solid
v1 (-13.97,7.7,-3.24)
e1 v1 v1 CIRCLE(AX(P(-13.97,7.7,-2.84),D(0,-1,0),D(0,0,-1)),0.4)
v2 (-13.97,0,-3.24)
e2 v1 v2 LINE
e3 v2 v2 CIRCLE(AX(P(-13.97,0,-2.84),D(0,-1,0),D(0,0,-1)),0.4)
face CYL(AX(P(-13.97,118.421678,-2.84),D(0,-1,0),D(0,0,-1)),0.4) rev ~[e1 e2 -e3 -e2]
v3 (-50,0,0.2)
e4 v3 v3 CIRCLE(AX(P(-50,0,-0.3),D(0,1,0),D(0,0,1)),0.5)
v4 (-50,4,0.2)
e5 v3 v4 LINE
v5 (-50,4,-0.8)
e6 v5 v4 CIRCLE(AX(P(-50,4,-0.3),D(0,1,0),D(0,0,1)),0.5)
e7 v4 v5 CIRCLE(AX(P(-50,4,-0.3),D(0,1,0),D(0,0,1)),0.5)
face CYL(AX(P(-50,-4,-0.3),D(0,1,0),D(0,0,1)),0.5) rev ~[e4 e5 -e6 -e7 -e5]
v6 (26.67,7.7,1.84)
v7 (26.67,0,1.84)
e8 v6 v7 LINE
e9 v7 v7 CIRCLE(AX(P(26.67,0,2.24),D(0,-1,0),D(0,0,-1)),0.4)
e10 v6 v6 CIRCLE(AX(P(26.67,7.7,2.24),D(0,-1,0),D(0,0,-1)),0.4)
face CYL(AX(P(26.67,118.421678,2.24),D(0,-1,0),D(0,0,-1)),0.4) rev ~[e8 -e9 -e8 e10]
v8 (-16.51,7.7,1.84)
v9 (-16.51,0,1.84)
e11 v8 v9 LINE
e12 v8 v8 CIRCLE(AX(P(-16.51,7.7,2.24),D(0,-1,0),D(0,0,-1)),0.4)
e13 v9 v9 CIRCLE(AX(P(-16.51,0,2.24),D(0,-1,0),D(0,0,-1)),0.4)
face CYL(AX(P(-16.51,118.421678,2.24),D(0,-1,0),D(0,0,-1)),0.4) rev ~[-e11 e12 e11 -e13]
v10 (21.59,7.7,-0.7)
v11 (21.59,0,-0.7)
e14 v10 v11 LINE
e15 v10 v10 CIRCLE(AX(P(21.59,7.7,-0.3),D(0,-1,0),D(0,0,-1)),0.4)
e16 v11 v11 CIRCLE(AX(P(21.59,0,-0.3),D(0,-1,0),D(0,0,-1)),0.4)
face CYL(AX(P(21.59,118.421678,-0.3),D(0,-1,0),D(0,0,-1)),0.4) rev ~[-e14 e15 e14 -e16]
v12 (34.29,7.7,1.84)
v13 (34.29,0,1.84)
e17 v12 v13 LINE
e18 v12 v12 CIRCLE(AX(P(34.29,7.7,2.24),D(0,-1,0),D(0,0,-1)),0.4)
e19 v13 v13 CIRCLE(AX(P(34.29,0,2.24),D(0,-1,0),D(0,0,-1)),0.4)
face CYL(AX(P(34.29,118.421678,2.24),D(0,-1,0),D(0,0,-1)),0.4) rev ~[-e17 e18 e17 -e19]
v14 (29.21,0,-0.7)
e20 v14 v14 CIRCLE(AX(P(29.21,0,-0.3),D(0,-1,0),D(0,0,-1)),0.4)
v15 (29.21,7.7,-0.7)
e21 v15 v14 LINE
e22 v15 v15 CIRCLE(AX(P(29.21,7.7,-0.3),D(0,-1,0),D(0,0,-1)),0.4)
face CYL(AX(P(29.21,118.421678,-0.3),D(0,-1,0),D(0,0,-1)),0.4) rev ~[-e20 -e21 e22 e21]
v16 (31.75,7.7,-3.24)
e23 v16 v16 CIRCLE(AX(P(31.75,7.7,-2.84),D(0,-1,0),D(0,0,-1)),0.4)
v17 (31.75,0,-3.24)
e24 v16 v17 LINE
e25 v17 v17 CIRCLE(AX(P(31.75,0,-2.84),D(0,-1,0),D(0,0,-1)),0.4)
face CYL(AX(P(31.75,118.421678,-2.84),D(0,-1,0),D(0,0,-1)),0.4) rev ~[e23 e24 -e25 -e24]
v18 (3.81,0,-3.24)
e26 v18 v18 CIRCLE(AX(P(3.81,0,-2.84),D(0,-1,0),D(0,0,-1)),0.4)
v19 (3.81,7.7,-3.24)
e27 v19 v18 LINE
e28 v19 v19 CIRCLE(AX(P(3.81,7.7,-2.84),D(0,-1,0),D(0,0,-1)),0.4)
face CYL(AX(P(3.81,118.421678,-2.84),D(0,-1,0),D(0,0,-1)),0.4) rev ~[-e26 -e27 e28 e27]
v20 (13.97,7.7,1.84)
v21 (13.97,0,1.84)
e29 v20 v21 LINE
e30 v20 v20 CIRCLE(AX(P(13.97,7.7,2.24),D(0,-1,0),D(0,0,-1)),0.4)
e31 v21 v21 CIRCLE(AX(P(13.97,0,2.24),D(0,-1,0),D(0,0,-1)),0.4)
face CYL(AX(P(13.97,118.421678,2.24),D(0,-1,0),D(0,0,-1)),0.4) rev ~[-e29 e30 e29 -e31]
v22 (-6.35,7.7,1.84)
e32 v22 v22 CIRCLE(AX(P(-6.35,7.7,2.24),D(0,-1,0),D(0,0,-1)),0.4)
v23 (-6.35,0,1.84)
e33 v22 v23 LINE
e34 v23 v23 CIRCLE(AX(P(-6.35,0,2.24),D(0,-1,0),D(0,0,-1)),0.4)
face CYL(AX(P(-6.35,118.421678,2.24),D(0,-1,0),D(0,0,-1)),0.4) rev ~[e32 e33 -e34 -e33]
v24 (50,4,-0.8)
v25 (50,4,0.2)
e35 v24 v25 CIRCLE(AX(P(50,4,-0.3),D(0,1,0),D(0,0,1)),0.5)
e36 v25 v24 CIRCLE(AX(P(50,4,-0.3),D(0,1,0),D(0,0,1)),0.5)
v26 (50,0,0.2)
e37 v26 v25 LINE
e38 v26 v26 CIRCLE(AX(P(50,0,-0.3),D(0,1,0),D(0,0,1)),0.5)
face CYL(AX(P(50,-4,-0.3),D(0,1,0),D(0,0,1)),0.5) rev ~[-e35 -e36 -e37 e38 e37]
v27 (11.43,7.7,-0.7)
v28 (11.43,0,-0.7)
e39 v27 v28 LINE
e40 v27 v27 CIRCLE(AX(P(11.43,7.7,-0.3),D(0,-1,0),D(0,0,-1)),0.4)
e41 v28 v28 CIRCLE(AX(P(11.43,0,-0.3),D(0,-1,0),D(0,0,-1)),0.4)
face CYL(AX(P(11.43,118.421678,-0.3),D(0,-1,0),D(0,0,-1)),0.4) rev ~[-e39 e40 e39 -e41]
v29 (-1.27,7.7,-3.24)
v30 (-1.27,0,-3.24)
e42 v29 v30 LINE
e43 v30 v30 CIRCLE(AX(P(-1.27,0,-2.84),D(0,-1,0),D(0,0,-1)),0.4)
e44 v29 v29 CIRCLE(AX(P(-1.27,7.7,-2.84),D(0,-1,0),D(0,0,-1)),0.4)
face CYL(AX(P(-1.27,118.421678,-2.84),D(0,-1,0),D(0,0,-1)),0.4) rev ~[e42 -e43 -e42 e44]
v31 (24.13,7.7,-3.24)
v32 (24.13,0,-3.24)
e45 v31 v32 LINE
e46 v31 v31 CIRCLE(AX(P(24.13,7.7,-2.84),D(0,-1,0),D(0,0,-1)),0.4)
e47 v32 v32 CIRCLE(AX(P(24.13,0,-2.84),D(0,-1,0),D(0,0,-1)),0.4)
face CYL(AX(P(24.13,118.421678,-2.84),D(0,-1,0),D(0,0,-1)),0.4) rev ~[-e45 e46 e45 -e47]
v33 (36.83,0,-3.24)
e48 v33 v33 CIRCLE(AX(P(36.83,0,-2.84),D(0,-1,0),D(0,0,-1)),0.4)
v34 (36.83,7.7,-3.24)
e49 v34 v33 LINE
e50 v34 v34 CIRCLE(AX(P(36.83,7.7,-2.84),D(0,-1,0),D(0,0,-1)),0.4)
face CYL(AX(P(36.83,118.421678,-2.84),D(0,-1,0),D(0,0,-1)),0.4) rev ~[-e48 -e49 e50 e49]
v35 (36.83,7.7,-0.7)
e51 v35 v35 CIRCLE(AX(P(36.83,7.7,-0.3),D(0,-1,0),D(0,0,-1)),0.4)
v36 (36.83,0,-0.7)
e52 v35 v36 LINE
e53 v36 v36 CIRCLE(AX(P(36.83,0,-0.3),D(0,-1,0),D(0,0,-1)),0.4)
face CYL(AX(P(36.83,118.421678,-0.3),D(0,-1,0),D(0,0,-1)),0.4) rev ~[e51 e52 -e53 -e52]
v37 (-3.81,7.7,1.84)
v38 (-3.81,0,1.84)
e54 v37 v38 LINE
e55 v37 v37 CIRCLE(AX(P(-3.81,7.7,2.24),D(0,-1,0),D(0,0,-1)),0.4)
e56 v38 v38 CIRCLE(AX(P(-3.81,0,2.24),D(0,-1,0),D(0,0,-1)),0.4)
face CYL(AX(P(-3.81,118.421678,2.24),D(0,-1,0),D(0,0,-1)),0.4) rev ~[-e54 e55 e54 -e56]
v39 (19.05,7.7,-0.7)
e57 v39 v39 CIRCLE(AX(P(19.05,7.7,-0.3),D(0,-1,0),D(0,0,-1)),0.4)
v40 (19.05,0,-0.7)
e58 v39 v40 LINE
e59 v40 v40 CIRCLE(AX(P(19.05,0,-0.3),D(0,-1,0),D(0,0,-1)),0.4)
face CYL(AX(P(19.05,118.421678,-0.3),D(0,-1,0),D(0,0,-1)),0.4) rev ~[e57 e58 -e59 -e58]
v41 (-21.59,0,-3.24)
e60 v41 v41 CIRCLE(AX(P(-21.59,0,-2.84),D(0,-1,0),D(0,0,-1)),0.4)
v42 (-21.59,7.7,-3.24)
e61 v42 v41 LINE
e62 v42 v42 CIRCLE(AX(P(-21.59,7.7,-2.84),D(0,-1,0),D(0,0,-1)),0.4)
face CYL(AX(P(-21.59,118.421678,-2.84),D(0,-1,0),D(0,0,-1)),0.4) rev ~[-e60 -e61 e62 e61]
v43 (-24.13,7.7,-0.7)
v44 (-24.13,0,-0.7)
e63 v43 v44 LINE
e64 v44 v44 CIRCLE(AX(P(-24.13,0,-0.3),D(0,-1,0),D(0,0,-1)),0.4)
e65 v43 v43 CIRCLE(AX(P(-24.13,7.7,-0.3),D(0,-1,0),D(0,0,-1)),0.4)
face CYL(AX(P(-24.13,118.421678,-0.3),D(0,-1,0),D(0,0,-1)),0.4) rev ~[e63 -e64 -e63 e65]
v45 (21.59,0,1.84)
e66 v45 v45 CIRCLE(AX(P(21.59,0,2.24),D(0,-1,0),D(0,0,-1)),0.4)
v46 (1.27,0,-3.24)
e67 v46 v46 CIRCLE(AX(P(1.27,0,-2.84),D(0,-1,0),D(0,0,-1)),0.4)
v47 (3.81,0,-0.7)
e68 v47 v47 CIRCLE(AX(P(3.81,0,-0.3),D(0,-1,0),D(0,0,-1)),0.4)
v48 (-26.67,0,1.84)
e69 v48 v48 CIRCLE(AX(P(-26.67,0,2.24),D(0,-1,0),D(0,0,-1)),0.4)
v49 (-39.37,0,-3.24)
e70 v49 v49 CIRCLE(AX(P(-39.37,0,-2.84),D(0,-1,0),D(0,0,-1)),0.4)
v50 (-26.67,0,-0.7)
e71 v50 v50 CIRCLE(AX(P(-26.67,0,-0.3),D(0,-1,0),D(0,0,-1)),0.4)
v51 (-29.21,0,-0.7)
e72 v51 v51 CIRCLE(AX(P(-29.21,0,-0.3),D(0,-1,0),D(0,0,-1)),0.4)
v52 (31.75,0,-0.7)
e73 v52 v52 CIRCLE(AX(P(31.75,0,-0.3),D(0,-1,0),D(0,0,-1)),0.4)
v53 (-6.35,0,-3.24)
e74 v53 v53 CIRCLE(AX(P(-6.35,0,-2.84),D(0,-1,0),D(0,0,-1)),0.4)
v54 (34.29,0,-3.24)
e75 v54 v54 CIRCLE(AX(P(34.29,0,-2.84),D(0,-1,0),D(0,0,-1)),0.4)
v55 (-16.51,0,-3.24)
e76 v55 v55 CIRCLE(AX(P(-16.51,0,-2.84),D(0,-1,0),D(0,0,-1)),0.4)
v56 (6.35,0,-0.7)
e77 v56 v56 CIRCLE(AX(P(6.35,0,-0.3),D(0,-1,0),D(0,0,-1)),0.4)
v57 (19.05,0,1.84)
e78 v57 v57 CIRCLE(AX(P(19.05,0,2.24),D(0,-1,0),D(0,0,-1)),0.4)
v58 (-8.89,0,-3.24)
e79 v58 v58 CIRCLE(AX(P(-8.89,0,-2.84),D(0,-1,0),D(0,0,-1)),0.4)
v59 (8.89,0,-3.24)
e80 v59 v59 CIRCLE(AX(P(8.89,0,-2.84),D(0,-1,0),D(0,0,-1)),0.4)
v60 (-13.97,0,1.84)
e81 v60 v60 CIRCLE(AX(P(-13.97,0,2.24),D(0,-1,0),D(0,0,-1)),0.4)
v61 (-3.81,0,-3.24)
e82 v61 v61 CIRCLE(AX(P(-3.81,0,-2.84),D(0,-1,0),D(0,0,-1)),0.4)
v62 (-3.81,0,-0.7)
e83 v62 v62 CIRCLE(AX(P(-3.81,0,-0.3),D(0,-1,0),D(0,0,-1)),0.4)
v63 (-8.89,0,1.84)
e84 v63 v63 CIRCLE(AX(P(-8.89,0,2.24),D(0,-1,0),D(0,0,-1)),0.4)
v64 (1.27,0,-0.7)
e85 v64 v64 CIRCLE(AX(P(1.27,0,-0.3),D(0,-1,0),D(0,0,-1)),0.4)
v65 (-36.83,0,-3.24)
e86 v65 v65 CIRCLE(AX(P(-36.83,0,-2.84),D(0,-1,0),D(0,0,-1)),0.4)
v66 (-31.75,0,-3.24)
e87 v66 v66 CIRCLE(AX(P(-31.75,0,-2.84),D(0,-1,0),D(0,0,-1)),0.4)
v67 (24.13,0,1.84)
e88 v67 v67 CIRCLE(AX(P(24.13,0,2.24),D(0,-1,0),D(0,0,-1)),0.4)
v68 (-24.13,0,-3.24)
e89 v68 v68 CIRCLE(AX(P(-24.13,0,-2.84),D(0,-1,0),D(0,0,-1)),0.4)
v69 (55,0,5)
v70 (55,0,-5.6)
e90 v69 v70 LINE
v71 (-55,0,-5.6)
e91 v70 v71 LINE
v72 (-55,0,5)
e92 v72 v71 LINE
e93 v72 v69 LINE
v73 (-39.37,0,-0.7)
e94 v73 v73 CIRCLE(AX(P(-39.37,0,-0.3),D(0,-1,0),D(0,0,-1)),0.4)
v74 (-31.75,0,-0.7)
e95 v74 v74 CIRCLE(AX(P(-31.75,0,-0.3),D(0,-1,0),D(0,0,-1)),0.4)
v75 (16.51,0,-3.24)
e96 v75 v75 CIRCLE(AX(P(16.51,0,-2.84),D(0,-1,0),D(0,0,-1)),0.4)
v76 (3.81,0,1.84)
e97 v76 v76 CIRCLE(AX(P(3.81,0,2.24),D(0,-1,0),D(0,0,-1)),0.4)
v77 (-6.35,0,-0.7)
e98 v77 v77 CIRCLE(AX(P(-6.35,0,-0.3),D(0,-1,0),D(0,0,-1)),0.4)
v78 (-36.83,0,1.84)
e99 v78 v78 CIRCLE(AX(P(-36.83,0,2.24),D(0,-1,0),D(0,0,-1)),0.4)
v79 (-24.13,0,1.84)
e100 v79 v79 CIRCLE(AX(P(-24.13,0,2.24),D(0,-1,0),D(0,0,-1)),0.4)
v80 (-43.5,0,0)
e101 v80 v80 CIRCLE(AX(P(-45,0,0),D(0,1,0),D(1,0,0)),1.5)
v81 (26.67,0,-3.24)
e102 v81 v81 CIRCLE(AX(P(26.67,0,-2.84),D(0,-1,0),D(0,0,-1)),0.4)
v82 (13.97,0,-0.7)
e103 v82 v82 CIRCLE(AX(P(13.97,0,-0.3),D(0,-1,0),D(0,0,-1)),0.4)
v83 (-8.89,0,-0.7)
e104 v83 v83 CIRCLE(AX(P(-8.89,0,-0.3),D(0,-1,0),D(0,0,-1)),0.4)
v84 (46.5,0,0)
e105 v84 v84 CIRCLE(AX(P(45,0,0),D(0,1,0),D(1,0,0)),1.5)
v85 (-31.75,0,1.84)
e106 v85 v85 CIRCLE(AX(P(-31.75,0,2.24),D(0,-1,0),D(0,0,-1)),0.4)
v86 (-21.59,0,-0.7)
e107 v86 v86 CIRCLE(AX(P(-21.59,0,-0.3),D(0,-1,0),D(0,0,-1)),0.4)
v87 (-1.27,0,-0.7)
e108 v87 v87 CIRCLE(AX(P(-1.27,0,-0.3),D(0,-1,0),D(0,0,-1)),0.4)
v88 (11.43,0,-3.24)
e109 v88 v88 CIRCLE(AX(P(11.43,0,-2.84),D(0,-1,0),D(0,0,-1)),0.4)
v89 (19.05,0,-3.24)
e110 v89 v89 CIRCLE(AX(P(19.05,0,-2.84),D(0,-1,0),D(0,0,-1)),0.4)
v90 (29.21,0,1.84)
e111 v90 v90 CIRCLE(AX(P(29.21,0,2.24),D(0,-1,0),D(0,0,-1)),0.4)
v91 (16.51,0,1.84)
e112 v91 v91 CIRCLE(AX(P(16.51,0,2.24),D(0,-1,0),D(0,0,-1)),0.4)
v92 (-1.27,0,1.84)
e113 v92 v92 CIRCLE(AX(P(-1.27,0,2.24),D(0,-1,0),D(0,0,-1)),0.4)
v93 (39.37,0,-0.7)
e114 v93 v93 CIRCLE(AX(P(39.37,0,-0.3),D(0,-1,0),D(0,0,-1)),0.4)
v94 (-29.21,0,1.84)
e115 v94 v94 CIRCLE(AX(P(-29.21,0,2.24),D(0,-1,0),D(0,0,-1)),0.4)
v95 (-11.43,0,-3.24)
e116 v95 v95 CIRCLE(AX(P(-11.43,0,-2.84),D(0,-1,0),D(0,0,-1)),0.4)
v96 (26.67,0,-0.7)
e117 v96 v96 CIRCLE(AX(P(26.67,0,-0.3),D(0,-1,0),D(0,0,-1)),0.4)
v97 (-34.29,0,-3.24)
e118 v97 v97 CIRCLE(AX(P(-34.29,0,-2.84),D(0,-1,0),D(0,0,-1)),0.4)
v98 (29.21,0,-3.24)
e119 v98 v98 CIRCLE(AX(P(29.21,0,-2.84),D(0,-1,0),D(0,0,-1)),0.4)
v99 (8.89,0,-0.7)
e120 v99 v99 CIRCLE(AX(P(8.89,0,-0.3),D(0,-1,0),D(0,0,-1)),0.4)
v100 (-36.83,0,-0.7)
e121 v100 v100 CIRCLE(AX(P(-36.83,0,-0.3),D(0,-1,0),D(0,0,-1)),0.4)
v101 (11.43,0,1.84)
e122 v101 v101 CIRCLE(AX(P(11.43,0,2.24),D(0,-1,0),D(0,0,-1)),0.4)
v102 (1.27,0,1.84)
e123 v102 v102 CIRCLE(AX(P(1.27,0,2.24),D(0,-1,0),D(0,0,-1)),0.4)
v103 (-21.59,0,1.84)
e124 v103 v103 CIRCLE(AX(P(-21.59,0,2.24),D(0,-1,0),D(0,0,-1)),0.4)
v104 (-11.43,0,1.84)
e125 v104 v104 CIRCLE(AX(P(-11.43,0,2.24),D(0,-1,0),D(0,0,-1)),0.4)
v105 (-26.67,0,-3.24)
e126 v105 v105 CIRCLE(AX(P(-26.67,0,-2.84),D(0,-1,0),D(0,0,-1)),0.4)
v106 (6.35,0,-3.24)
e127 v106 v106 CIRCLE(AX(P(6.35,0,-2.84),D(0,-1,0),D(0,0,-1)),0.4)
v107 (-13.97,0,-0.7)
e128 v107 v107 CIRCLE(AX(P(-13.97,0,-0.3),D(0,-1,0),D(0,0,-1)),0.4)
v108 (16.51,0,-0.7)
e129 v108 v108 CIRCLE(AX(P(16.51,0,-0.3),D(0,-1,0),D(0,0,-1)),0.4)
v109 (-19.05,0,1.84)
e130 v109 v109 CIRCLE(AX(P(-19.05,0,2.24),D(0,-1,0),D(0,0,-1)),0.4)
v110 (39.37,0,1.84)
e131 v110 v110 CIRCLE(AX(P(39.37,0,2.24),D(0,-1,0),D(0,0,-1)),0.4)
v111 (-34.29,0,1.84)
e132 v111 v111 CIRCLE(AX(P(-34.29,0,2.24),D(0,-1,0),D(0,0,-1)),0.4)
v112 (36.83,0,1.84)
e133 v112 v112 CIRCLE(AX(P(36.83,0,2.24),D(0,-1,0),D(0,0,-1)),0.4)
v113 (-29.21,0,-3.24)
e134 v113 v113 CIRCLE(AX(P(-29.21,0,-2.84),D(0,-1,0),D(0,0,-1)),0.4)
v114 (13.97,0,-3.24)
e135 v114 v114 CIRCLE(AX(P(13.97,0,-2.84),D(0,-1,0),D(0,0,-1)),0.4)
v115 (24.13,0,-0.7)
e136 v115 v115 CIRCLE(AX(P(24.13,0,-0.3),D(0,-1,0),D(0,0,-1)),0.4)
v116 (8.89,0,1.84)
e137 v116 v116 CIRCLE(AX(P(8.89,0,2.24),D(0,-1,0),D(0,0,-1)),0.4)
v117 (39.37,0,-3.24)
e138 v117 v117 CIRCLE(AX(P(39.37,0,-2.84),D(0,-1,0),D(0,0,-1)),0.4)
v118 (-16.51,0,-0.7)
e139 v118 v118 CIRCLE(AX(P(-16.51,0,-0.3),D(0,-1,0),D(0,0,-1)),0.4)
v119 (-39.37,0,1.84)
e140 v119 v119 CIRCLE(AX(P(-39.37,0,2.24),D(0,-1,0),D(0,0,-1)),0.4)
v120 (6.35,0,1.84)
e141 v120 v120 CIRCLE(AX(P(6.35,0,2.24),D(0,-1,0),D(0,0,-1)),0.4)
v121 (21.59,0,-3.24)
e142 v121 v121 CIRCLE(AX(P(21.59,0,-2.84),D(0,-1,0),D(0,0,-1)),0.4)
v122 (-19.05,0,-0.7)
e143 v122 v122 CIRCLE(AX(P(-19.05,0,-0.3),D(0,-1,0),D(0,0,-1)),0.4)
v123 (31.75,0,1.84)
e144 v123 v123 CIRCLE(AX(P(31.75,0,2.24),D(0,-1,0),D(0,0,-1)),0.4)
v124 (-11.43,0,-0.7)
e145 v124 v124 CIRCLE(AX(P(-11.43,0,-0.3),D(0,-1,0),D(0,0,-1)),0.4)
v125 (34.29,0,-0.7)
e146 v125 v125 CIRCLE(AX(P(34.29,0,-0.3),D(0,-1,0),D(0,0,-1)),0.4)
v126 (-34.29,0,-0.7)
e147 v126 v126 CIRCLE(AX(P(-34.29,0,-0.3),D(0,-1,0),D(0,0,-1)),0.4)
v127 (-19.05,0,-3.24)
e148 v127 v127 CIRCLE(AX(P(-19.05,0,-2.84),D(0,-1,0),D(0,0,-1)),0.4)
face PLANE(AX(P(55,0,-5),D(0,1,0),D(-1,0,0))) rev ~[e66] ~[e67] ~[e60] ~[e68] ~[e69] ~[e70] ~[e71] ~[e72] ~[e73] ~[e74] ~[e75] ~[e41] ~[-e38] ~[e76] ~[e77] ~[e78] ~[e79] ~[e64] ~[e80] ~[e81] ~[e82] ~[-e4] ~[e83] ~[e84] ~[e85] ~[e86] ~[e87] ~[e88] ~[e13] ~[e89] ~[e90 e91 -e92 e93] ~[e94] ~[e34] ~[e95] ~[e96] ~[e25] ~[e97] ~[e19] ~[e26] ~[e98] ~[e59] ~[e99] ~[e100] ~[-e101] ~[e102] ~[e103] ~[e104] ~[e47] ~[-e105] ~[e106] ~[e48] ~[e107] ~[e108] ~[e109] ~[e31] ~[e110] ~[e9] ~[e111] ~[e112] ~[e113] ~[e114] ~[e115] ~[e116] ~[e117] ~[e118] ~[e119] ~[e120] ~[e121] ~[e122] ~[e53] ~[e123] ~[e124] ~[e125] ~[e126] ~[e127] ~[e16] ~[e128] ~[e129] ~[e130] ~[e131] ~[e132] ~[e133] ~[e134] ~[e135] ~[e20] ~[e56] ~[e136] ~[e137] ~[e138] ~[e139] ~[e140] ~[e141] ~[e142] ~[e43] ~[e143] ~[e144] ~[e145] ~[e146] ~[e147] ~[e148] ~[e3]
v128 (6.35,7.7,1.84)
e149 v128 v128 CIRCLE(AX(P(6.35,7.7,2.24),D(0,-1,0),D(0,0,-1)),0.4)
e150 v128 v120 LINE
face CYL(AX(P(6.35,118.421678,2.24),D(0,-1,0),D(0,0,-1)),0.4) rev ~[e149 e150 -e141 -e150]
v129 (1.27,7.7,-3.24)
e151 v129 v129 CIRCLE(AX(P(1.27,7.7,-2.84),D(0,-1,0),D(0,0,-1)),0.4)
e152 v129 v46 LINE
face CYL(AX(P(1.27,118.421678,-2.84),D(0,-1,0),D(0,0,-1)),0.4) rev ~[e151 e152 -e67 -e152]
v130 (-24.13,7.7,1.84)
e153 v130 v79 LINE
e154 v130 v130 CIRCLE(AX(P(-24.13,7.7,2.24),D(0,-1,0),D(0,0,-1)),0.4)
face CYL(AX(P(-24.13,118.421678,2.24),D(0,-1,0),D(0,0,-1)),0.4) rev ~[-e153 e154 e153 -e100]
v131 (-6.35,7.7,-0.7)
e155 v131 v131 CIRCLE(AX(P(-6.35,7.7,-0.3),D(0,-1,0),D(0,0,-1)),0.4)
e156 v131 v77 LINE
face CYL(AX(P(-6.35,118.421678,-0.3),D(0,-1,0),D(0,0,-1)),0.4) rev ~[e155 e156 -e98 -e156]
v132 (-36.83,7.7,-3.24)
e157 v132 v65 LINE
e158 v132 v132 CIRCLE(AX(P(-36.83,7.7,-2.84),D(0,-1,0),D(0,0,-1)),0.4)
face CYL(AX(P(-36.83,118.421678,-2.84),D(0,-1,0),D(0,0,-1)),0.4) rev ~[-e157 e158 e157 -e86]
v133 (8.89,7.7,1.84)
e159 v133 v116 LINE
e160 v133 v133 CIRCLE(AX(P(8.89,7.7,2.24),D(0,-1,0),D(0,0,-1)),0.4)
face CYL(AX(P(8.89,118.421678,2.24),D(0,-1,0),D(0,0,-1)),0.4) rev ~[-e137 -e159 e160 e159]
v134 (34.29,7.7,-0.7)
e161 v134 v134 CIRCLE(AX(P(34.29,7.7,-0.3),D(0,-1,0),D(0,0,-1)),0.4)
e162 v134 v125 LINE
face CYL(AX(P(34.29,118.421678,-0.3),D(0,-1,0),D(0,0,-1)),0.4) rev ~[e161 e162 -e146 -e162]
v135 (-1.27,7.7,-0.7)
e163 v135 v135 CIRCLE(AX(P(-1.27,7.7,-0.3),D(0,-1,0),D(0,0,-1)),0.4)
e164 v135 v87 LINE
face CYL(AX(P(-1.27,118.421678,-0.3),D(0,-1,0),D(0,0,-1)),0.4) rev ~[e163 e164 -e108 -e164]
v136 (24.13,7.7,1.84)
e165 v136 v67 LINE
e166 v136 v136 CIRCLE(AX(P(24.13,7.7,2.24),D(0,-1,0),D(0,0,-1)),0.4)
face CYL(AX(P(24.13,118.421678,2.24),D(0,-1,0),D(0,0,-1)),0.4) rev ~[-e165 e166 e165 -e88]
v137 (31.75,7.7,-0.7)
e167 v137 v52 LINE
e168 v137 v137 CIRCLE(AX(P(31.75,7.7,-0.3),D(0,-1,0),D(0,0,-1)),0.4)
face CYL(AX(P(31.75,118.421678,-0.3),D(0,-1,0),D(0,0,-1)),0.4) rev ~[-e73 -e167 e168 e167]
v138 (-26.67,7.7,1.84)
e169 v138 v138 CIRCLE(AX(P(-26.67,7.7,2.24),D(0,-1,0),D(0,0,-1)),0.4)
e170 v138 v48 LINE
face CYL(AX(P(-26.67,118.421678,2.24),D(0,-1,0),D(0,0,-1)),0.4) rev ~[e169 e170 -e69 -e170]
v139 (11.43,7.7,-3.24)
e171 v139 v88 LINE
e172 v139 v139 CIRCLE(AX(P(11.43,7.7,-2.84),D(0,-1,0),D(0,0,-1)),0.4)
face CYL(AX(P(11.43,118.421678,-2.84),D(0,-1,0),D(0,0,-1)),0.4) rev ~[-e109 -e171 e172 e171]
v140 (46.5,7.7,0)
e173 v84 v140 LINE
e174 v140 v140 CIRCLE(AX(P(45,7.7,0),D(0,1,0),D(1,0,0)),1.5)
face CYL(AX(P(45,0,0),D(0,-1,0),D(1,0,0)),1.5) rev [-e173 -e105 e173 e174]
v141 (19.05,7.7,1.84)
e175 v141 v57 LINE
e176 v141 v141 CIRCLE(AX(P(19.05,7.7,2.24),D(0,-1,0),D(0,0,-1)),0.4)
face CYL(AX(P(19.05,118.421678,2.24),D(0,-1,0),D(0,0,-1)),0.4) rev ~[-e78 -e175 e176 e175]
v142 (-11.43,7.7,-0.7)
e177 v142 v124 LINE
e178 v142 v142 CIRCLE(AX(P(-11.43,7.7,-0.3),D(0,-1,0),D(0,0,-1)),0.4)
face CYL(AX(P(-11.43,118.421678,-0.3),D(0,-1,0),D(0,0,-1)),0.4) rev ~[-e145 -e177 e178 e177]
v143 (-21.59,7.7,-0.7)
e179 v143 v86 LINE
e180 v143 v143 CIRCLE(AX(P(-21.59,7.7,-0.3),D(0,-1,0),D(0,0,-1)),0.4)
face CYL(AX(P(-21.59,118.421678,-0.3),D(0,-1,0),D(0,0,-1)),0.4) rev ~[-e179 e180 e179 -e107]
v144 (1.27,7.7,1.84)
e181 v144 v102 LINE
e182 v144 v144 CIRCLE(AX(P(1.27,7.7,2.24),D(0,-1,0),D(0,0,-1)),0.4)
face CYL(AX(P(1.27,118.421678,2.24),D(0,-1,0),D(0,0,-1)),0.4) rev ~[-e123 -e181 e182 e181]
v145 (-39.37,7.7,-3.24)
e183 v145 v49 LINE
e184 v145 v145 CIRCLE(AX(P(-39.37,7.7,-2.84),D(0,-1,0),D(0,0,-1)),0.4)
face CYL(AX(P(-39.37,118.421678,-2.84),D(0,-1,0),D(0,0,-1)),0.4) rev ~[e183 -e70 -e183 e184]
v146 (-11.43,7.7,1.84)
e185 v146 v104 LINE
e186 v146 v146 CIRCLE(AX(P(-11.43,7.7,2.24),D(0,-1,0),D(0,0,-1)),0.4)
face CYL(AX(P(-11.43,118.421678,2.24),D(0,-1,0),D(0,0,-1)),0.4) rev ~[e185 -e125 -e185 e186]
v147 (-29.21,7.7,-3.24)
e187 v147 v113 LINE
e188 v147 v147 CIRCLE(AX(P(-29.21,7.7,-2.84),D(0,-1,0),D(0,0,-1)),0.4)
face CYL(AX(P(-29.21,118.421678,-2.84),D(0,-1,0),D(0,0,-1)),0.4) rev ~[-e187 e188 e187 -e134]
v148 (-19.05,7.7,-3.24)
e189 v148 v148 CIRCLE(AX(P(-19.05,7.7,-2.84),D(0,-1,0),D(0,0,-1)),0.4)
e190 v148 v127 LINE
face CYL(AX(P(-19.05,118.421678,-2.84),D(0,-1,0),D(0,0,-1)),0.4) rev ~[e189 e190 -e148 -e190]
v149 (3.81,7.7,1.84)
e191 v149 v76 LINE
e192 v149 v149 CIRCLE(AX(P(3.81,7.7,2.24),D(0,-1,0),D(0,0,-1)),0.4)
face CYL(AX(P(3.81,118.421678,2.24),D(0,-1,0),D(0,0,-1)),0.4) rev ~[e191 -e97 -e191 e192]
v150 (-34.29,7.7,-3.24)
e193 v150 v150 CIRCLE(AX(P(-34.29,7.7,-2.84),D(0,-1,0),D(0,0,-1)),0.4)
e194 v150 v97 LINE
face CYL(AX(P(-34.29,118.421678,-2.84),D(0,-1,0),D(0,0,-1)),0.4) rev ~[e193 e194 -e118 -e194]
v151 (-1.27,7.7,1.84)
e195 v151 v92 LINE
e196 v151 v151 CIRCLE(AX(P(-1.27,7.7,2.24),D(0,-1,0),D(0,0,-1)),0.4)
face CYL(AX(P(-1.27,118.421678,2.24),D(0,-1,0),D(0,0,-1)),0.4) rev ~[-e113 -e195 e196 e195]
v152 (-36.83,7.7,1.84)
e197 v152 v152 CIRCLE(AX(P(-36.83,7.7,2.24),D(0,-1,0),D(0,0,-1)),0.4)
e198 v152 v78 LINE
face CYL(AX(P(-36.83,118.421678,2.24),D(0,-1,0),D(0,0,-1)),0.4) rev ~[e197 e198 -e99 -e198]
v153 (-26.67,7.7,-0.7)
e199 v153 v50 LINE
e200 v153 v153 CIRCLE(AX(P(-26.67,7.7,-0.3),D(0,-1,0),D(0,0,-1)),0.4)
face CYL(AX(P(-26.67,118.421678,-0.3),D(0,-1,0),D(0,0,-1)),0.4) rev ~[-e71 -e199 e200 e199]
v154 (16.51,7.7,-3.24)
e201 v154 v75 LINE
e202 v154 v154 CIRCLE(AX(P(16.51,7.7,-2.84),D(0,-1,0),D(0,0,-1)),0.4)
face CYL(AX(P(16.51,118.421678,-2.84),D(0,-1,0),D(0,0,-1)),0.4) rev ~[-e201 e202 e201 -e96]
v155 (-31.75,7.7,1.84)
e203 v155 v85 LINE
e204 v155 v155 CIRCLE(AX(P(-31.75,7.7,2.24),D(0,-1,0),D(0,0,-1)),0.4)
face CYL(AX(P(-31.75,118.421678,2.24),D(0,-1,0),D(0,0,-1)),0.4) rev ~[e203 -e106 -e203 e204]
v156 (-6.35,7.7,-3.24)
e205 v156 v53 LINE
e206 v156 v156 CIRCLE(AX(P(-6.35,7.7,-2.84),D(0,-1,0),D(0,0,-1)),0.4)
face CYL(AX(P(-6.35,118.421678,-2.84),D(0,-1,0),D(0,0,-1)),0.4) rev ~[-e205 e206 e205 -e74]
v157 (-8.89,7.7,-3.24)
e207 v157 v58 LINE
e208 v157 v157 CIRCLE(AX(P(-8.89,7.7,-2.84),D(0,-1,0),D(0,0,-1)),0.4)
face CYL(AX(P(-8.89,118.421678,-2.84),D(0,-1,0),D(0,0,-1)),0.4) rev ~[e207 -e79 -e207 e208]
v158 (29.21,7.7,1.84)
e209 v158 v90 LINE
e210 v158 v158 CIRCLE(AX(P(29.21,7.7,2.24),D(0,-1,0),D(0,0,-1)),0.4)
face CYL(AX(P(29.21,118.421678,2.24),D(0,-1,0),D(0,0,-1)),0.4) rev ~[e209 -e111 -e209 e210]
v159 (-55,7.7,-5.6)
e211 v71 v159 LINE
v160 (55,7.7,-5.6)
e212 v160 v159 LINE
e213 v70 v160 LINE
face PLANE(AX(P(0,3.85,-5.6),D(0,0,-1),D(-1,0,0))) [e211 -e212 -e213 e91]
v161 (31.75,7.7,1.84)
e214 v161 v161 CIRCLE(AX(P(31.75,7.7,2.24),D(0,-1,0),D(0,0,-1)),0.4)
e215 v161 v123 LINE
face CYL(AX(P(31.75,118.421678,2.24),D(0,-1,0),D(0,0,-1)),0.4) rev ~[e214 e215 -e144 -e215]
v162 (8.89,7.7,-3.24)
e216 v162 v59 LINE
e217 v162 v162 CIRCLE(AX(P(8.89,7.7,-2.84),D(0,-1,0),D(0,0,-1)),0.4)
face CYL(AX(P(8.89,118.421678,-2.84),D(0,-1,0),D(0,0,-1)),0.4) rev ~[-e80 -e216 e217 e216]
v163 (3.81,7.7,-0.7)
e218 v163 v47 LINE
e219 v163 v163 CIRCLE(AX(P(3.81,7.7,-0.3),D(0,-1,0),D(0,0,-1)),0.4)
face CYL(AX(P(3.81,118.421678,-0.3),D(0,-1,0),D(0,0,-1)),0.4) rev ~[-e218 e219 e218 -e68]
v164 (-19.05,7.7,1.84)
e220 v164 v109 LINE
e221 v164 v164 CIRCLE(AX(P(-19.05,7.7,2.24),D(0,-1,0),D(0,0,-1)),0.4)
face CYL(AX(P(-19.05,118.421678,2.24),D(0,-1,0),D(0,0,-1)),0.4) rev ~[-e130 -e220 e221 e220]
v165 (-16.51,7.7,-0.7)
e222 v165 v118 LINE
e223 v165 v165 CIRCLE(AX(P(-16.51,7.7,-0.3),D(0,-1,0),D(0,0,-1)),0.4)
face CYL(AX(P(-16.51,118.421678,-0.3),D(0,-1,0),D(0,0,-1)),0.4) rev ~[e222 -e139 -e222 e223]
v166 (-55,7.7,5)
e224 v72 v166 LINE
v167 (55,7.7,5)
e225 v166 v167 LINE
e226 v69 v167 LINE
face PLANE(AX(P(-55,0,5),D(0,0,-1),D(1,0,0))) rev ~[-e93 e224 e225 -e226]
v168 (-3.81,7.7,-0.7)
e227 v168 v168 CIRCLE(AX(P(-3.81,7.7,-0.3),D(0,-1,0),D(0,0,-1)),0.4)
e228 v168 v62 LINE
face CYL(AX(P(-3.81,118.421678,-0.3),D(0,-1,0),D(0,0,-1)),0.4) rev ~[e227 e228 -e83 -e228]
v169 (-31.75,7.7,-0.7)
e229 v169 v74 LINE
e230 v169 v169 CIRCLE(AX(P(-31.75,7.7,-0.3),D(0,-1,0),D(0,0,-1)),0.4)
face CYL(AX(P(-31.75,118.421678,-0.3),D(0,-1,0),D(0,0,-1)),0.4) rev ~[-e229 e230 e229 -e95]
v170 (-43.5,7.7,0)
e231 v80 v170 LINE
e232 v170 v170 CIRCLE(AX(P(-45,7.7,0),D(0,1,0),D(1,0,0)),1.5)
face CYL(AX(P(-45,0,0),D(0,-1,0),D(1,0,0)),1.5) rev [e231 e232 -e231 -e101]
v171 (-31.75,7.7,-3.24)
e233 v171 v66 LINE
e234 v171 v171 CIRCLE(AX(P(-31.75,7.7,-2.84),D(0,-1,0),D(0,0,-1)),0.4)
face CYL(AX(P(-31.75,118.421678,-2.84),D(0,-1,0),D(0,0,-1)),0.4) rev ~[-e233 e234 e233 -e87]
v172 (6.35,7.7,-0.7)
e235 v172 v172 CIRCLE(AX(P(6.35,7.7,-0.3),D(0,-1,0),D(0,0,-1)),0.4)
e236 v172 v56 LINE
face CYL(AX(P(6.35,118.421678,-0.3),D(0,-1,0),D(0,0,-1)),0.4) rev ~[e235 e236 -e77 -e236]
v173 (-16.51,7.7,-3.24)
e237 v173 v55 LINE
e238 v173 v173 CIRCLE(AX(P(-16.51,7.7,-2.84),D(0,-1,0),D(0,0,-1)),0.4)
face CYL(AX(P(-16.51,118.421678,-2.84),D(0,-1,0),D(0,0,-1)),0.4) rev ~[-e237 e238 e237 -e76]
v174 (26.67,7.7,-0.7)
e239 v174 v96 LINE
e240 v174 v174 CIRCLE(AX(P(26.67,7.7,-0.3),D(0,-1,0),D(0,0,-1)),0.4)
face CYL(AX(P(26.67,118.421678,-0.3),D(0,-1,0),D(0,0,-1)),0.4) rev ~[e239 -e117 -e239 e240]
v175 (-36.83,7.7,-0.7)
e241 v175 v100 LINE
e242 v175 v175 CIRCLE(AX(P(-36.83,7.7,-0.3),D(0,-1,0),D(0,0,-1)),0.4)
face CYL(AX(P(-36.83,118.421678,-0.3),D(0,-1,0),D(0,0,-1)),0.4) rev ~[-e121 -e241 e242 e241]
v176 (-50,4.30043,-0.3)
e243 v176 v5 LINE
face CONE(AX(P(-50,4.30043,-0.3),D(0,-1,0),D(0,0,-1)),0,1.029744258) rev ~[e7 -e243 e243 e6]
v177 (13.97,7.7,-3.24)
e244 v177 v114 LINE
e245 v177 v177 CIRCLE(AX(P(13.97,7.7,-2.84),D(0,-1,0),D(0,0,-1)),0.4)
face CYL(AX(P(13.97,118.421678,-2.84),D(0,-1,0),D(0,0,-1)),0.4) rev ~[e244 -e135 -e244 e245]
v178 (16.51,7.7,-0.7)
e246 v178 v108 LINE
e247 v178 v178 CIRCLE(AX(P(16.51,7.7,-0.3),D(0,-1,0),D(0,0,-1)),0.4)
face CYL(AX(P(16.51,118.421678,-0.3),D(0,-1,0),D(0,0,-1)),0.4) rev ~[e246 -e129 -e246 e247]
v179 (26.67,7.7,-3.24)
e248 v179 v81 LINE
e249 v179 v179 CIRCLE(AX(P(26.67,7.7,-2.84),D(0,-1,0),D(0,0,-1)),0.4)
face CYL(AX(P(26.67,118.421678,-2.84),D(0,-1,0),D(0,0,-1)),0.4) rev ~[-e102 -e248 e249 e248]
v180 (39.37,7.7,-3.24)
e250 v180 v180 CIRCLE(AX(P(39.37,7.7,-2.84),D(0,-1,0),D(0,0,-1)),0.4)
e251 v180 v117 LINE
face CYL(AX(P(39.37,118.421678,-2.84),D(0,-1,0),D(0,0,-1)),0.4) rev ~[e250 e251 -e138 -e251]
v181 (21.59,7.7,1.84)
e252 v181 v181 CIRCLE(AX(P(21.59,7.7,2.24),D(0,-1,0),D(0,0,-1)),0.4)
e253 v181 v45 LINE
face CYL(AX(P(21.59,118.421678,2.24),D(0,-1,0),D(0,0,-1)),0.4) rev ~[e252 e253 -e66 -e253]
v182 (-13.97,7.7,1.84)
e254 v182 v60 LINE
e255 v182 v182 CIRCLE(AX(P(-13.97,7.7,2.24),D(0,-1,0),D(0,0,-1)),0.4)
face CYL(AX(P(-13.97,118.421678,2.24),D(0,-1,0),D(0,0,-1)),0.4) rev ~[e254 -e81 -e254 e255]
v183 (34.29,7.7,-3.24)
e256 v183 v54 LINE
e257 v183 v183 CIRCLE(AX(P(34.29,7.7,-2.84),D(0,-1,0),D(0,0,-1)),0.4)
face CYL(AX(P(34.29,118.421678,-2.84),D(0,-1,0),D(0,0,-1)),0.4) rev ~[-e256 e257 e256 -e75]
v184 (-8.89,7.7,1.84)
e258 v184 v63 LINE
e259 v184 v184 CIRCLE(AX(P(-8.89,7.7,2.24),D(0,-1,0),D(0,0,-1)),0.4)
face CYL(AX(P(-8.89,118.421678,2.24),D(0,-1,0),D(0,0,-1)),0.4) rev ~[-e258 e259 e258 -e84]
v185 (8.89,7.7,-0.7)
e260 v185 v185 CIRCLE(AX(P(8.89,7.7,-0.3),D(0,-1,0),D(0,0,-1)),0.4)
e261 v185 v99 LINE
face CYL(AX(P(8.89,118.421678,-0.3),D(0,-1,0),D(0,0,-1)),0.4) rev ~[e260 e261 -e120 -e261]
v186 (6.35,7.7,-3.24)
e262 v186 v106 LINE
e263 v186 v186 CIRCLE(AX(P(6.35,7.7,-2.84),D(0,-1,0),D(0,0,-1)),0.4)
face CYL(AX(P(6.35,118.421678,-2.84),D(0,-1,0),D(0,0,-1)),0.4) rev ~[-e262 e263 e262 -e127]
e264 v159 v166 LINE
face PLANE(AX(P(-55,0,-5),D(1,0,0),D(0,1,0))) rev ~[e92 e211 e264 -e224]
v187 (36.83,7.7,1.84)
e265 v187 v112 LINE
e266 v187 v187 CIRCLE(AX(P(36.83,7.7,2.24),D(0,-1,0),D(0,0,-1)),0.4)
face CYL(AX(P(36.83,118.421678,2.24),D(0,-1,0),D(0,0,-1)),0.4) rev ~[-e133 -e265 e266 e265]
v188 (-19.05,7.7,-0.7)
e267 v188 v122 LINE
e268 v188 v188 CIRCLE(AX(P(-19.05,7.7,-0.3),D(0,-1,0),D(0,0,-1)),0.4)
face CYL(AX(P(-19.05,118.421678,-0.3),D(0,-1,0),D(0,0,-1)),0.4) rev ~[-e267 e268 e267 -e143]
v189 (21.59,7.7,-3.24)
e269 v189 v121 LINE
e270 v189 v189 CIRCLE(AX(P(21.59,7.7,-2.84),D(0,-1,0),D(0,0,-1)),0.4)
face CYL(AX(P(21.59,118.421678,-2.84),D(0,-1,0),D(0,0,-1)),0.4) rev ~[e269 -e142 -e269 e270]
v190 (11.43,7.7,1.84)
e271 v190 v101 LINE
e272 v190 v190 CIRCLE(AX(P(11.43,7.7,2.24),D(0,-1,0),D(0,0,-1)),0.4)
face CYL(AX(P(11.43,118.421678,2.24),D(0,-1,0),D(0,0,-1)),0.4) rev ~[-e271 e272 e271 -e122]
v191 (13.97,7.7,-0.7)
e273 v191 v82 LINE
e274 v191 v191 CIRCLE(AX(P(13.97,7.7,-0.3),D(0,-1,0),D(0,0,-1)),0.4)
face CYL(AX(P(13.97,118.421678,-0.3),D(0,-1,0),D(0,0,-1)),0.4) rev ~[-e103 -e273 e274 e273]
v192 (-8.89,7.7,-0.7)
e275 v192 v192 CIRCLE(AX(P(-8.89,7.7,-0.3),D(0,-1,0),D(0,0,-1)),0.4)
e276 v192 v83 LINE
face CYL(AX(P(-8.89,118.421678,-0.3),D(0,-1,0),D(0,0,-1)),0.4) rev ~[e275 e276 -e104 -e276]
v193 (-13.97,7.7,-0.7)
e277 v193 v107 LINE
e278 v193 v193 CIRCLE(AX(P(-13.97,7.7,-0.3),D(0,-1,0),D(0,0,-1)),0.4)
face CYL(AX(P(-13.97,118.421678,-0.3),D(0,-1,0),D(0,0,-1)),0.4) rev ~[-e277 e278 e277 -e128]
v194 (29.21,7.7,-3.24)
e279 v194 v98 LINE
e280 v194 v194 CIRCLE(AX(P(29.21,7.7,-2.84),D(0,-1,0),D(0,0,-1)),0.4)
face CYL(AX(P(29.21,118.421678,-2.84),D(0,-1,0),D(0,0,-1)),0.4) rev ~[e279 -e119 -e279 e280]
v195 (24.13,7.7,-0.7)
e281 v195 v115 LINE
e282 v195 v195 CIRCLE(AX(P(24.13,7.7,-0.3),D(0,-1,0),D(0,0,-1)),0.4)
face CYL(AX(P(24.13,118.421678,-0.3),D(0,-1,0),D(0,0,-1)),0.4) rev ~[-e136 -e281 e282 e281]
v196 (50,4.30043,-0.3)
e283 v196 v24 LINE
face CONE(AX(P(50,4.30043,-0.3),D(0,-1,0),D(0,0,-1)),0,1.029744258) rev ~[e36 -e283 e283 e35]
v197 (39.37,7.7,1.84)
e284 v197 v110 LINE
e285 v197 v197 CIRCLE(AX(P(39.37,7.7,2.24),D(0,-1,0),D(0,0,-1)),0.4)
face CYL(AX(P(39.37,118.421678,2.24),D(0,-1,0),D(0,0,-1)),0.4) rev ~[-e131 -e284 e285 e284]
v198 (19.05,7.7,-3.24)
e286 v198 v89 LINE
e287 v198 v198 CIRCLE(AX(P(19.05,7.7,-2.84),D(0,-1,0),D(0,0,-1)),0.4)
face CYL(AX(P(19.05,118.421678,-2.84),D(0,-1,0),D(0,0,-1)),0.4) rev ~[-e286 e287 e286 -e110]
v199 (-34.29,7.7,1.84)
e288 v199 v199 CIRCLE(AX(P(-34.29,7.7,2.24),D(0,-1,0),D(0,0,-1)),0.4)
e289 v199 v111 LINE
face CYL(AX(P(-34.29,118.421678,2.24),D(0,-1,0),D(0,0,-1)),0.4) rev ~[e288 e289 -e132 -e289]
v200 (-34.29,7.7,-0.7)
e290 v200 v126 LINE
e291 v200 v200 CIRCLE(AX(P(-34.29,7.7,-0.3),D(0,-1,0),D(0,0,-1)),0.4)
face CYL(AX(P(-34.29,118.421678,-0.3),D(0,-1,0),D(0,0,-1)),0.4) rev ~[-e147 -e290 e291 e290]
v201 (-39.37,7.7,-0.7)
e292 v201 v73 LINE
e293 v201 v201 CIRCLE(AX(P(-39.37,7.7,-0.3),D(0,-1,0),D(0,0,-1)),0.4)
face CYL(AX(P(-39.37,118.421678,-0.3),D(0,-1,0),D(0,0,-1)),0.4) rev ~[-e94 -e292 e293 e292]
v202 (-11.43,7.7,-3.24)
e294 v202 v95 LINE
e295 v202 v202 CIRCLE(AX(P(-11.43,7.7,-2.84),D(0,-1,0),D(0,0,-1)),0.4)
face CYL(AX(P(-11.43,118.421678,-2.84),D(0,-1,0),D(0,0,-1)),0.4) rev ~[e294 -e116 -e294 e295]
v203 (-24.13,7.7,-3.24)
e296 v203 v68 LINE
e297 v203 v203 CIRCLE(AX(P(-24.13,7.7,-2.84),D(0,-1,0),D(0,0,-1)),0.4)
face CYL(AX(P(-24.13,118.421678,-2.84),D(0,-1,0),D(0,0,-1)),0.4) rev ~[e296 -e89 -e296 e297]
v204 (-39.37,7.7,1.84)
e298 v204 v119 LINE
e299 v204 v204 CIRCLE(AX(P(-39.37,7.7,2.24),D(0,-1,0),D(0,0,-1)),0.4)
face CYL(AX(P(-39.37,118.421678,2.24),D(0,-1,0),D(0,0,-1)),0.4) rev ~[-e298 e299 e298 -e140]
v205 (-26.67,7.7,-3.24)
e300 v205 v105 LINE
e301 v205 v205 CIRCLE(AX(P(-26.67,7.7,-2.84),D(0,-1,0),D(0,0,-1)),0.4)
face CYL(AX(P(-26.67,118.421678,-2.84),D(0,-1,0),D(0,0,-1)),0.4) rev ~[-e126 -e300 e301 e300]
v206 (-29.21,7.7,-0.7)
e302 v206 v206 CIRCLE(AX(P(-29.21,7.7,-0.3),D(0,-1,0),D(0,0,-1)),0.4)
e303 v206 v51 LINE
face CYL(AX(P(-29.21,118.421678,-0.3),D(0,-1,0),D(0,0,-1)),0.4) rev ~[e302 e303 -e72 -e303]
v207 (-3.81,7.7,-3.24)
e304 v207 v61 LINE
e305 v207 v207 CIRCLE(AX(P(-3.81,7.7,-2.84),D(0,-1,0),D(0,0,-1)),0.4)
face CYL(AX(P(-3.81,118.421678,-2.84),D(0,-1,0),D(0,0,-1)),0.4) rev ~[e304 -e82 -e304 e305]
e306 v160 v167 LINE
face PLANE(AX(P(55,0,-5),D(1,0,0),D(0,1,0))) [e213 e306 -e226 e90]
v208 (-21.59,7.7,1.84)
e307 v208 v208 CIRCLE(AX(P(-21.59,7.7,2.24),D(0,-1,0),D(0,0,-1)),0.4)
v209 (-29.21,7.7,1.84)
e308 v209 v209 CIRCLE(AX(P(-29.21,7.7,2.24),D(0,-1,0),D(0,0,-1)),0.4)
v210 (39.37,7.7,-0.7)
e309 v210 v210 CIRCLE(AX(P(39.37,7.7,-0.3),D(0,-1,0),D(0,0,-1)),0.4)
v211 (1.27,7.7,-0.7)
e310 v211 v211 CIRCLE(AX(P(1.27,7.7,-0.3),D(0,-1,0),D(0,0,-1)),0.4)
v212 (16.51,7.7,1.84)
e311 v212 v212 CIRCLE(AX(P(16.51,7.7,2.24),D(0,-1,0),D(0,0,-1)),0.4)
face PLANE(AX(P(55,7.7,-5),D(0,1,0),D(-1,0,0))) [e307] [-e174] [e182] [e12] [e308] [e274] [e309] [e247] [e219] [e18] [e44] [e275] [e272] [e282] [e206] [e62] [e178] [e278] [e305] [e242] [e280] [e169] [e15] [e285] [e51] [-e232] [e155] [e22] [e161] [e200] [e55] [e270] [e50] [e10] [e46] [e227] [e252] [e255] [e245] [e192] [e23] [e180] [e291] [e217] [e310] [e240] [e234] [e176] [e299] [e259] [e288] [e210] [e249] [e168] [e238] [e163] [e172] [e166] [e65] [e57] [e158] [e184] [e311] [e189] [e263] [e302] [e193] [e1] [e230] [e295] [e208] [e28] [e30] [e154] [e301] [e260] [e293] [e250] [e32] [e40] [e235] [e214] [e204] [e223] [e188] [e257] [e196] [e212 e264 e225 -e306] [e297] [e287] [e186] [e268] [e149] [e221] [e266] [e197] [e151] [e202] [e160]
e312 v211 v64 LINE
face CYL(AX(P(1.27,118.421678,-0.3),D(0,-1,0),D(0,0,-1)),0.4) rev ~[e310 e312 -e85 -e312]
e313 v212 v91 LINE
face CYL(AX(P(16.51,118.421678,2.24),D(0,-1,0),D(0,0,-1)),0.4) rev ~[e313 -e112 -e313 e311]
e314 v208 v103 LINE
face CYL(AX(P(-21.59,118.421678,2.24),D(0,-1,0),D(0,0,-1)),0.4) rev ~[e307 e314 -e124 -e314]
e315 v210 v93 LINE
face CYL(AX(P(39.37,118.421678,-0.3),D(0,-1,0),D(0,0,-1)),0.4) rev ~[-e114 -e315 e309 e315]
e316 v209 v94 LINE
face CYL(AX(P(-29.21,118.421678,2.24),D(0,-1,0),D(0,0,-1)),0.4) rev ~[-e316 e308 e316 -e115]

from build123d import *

# Parameters (mm, degrees)
SKETCH1_W                  = 110
SKETCH1_H                  = 10
SKETCH1_R                  = 1.5
BOSS_EXTRUDE1_DEPTH        = 7.7
F_0_8_0_8_DIAMETER_HOLE1_D = 0.8
LPATTERN1_COUNT            = 32
LPATTERN1_PITCH            = 2.54
SKETCH6_W                  = 110
SKETCH6_H                  = 7.7
BOSS_EXTRUDE4_DEPTH        = 0.6
F_1_0MM_DOWEL_HOLE2_D      = 1
F_1_0MM_DOWEL_HOLE2_DEPTH  = 4
F_1_0MM_DOWEL_HOLE2_TIP    = 0.30043031


with BuildPart() as part:
    # Sketch1 → Boss-Extrude1 (new body)
    with BuildSketch(Plane(origin=(0, 0, 0), x_dir=(1, 0, 0), z_dir=(0, 1, 0))):
        Rectangle(SKETCH1_W, SKETCH1_H)
        with Locations((45, 0)):
            Circle(SKETCH1_R, mode=Mode.SUBTRACT)
        with Locations((-45, 0)):
            Circle(SKETCH1_R, mode=Mode.SUBTRACT)
    extrude(amount=BOSS_EXTRUDE1_DEPTH)

    # Ø0.8 (0.8) Diameter Hole1 (through all)
    with Locations(Plane(origin=(-39.37, 7.7, -2.84), x_dir=(0, 0, 1), z_dir=(0, 1, 0))):
        with Locations((0, 0), (2.54, 0), (5.08, 0)):
            f_0_8_0_8_diameter_hole1 = Hole(F_0_8_0_8_DIAMETER_HOLE1_D / 2)

    # LPattern1: Ø0.8 (0.8) Diameter Hole1 ×32
    with Locations(*[(i * LPATTERN1_PITCH, 0, 0) for i in range(1, LPATTERN1_COUNT)]):
        add(f_0_8_0_8_diameter_hole1, mode=Mode.SUBTRACT)

    # Sketch6 → Boss-Extrude4 (add)
    with BuildSketch(Plane(origin=(0, 0, -5), x_dir=(-1, 0, 0), z_dir=(0, 0, -1))):
        with Locations((0, 3.85)):
            Rectangle(SKETCH6_W, SKETCH6_H)
    extrude(amount=BOSS_EXTRUDE4_DEPTH)

    # Ø1.0mm Dowel Hole2
    with Locations(Plane(origin=(-50, 0, -0.3), x_dir=(0, 0, -1), z_dir=(0, -1, 0))):
        with Locations((0, 0), (0, 100)):
            Hole(F_1_0MM_DOWEL_HOLE2_D / 2, depth=F_1_0MM_DOWEL_HOLE2_DEPTH)
            with Locations((0, 0, -(F_1_0MM_DOWEL_HOLE2_DEPTH + F_1_0MM_DOWEL_HOLE2_TIP / 2))):  # 118° drill point
                Cone(0, F_1_0MM_DOWEL_HOLE2_D / 2, F_1_0MM_DOWEL_HOLE2_TIP, mode=Mode.SUBTRACT)


solid = part.part
